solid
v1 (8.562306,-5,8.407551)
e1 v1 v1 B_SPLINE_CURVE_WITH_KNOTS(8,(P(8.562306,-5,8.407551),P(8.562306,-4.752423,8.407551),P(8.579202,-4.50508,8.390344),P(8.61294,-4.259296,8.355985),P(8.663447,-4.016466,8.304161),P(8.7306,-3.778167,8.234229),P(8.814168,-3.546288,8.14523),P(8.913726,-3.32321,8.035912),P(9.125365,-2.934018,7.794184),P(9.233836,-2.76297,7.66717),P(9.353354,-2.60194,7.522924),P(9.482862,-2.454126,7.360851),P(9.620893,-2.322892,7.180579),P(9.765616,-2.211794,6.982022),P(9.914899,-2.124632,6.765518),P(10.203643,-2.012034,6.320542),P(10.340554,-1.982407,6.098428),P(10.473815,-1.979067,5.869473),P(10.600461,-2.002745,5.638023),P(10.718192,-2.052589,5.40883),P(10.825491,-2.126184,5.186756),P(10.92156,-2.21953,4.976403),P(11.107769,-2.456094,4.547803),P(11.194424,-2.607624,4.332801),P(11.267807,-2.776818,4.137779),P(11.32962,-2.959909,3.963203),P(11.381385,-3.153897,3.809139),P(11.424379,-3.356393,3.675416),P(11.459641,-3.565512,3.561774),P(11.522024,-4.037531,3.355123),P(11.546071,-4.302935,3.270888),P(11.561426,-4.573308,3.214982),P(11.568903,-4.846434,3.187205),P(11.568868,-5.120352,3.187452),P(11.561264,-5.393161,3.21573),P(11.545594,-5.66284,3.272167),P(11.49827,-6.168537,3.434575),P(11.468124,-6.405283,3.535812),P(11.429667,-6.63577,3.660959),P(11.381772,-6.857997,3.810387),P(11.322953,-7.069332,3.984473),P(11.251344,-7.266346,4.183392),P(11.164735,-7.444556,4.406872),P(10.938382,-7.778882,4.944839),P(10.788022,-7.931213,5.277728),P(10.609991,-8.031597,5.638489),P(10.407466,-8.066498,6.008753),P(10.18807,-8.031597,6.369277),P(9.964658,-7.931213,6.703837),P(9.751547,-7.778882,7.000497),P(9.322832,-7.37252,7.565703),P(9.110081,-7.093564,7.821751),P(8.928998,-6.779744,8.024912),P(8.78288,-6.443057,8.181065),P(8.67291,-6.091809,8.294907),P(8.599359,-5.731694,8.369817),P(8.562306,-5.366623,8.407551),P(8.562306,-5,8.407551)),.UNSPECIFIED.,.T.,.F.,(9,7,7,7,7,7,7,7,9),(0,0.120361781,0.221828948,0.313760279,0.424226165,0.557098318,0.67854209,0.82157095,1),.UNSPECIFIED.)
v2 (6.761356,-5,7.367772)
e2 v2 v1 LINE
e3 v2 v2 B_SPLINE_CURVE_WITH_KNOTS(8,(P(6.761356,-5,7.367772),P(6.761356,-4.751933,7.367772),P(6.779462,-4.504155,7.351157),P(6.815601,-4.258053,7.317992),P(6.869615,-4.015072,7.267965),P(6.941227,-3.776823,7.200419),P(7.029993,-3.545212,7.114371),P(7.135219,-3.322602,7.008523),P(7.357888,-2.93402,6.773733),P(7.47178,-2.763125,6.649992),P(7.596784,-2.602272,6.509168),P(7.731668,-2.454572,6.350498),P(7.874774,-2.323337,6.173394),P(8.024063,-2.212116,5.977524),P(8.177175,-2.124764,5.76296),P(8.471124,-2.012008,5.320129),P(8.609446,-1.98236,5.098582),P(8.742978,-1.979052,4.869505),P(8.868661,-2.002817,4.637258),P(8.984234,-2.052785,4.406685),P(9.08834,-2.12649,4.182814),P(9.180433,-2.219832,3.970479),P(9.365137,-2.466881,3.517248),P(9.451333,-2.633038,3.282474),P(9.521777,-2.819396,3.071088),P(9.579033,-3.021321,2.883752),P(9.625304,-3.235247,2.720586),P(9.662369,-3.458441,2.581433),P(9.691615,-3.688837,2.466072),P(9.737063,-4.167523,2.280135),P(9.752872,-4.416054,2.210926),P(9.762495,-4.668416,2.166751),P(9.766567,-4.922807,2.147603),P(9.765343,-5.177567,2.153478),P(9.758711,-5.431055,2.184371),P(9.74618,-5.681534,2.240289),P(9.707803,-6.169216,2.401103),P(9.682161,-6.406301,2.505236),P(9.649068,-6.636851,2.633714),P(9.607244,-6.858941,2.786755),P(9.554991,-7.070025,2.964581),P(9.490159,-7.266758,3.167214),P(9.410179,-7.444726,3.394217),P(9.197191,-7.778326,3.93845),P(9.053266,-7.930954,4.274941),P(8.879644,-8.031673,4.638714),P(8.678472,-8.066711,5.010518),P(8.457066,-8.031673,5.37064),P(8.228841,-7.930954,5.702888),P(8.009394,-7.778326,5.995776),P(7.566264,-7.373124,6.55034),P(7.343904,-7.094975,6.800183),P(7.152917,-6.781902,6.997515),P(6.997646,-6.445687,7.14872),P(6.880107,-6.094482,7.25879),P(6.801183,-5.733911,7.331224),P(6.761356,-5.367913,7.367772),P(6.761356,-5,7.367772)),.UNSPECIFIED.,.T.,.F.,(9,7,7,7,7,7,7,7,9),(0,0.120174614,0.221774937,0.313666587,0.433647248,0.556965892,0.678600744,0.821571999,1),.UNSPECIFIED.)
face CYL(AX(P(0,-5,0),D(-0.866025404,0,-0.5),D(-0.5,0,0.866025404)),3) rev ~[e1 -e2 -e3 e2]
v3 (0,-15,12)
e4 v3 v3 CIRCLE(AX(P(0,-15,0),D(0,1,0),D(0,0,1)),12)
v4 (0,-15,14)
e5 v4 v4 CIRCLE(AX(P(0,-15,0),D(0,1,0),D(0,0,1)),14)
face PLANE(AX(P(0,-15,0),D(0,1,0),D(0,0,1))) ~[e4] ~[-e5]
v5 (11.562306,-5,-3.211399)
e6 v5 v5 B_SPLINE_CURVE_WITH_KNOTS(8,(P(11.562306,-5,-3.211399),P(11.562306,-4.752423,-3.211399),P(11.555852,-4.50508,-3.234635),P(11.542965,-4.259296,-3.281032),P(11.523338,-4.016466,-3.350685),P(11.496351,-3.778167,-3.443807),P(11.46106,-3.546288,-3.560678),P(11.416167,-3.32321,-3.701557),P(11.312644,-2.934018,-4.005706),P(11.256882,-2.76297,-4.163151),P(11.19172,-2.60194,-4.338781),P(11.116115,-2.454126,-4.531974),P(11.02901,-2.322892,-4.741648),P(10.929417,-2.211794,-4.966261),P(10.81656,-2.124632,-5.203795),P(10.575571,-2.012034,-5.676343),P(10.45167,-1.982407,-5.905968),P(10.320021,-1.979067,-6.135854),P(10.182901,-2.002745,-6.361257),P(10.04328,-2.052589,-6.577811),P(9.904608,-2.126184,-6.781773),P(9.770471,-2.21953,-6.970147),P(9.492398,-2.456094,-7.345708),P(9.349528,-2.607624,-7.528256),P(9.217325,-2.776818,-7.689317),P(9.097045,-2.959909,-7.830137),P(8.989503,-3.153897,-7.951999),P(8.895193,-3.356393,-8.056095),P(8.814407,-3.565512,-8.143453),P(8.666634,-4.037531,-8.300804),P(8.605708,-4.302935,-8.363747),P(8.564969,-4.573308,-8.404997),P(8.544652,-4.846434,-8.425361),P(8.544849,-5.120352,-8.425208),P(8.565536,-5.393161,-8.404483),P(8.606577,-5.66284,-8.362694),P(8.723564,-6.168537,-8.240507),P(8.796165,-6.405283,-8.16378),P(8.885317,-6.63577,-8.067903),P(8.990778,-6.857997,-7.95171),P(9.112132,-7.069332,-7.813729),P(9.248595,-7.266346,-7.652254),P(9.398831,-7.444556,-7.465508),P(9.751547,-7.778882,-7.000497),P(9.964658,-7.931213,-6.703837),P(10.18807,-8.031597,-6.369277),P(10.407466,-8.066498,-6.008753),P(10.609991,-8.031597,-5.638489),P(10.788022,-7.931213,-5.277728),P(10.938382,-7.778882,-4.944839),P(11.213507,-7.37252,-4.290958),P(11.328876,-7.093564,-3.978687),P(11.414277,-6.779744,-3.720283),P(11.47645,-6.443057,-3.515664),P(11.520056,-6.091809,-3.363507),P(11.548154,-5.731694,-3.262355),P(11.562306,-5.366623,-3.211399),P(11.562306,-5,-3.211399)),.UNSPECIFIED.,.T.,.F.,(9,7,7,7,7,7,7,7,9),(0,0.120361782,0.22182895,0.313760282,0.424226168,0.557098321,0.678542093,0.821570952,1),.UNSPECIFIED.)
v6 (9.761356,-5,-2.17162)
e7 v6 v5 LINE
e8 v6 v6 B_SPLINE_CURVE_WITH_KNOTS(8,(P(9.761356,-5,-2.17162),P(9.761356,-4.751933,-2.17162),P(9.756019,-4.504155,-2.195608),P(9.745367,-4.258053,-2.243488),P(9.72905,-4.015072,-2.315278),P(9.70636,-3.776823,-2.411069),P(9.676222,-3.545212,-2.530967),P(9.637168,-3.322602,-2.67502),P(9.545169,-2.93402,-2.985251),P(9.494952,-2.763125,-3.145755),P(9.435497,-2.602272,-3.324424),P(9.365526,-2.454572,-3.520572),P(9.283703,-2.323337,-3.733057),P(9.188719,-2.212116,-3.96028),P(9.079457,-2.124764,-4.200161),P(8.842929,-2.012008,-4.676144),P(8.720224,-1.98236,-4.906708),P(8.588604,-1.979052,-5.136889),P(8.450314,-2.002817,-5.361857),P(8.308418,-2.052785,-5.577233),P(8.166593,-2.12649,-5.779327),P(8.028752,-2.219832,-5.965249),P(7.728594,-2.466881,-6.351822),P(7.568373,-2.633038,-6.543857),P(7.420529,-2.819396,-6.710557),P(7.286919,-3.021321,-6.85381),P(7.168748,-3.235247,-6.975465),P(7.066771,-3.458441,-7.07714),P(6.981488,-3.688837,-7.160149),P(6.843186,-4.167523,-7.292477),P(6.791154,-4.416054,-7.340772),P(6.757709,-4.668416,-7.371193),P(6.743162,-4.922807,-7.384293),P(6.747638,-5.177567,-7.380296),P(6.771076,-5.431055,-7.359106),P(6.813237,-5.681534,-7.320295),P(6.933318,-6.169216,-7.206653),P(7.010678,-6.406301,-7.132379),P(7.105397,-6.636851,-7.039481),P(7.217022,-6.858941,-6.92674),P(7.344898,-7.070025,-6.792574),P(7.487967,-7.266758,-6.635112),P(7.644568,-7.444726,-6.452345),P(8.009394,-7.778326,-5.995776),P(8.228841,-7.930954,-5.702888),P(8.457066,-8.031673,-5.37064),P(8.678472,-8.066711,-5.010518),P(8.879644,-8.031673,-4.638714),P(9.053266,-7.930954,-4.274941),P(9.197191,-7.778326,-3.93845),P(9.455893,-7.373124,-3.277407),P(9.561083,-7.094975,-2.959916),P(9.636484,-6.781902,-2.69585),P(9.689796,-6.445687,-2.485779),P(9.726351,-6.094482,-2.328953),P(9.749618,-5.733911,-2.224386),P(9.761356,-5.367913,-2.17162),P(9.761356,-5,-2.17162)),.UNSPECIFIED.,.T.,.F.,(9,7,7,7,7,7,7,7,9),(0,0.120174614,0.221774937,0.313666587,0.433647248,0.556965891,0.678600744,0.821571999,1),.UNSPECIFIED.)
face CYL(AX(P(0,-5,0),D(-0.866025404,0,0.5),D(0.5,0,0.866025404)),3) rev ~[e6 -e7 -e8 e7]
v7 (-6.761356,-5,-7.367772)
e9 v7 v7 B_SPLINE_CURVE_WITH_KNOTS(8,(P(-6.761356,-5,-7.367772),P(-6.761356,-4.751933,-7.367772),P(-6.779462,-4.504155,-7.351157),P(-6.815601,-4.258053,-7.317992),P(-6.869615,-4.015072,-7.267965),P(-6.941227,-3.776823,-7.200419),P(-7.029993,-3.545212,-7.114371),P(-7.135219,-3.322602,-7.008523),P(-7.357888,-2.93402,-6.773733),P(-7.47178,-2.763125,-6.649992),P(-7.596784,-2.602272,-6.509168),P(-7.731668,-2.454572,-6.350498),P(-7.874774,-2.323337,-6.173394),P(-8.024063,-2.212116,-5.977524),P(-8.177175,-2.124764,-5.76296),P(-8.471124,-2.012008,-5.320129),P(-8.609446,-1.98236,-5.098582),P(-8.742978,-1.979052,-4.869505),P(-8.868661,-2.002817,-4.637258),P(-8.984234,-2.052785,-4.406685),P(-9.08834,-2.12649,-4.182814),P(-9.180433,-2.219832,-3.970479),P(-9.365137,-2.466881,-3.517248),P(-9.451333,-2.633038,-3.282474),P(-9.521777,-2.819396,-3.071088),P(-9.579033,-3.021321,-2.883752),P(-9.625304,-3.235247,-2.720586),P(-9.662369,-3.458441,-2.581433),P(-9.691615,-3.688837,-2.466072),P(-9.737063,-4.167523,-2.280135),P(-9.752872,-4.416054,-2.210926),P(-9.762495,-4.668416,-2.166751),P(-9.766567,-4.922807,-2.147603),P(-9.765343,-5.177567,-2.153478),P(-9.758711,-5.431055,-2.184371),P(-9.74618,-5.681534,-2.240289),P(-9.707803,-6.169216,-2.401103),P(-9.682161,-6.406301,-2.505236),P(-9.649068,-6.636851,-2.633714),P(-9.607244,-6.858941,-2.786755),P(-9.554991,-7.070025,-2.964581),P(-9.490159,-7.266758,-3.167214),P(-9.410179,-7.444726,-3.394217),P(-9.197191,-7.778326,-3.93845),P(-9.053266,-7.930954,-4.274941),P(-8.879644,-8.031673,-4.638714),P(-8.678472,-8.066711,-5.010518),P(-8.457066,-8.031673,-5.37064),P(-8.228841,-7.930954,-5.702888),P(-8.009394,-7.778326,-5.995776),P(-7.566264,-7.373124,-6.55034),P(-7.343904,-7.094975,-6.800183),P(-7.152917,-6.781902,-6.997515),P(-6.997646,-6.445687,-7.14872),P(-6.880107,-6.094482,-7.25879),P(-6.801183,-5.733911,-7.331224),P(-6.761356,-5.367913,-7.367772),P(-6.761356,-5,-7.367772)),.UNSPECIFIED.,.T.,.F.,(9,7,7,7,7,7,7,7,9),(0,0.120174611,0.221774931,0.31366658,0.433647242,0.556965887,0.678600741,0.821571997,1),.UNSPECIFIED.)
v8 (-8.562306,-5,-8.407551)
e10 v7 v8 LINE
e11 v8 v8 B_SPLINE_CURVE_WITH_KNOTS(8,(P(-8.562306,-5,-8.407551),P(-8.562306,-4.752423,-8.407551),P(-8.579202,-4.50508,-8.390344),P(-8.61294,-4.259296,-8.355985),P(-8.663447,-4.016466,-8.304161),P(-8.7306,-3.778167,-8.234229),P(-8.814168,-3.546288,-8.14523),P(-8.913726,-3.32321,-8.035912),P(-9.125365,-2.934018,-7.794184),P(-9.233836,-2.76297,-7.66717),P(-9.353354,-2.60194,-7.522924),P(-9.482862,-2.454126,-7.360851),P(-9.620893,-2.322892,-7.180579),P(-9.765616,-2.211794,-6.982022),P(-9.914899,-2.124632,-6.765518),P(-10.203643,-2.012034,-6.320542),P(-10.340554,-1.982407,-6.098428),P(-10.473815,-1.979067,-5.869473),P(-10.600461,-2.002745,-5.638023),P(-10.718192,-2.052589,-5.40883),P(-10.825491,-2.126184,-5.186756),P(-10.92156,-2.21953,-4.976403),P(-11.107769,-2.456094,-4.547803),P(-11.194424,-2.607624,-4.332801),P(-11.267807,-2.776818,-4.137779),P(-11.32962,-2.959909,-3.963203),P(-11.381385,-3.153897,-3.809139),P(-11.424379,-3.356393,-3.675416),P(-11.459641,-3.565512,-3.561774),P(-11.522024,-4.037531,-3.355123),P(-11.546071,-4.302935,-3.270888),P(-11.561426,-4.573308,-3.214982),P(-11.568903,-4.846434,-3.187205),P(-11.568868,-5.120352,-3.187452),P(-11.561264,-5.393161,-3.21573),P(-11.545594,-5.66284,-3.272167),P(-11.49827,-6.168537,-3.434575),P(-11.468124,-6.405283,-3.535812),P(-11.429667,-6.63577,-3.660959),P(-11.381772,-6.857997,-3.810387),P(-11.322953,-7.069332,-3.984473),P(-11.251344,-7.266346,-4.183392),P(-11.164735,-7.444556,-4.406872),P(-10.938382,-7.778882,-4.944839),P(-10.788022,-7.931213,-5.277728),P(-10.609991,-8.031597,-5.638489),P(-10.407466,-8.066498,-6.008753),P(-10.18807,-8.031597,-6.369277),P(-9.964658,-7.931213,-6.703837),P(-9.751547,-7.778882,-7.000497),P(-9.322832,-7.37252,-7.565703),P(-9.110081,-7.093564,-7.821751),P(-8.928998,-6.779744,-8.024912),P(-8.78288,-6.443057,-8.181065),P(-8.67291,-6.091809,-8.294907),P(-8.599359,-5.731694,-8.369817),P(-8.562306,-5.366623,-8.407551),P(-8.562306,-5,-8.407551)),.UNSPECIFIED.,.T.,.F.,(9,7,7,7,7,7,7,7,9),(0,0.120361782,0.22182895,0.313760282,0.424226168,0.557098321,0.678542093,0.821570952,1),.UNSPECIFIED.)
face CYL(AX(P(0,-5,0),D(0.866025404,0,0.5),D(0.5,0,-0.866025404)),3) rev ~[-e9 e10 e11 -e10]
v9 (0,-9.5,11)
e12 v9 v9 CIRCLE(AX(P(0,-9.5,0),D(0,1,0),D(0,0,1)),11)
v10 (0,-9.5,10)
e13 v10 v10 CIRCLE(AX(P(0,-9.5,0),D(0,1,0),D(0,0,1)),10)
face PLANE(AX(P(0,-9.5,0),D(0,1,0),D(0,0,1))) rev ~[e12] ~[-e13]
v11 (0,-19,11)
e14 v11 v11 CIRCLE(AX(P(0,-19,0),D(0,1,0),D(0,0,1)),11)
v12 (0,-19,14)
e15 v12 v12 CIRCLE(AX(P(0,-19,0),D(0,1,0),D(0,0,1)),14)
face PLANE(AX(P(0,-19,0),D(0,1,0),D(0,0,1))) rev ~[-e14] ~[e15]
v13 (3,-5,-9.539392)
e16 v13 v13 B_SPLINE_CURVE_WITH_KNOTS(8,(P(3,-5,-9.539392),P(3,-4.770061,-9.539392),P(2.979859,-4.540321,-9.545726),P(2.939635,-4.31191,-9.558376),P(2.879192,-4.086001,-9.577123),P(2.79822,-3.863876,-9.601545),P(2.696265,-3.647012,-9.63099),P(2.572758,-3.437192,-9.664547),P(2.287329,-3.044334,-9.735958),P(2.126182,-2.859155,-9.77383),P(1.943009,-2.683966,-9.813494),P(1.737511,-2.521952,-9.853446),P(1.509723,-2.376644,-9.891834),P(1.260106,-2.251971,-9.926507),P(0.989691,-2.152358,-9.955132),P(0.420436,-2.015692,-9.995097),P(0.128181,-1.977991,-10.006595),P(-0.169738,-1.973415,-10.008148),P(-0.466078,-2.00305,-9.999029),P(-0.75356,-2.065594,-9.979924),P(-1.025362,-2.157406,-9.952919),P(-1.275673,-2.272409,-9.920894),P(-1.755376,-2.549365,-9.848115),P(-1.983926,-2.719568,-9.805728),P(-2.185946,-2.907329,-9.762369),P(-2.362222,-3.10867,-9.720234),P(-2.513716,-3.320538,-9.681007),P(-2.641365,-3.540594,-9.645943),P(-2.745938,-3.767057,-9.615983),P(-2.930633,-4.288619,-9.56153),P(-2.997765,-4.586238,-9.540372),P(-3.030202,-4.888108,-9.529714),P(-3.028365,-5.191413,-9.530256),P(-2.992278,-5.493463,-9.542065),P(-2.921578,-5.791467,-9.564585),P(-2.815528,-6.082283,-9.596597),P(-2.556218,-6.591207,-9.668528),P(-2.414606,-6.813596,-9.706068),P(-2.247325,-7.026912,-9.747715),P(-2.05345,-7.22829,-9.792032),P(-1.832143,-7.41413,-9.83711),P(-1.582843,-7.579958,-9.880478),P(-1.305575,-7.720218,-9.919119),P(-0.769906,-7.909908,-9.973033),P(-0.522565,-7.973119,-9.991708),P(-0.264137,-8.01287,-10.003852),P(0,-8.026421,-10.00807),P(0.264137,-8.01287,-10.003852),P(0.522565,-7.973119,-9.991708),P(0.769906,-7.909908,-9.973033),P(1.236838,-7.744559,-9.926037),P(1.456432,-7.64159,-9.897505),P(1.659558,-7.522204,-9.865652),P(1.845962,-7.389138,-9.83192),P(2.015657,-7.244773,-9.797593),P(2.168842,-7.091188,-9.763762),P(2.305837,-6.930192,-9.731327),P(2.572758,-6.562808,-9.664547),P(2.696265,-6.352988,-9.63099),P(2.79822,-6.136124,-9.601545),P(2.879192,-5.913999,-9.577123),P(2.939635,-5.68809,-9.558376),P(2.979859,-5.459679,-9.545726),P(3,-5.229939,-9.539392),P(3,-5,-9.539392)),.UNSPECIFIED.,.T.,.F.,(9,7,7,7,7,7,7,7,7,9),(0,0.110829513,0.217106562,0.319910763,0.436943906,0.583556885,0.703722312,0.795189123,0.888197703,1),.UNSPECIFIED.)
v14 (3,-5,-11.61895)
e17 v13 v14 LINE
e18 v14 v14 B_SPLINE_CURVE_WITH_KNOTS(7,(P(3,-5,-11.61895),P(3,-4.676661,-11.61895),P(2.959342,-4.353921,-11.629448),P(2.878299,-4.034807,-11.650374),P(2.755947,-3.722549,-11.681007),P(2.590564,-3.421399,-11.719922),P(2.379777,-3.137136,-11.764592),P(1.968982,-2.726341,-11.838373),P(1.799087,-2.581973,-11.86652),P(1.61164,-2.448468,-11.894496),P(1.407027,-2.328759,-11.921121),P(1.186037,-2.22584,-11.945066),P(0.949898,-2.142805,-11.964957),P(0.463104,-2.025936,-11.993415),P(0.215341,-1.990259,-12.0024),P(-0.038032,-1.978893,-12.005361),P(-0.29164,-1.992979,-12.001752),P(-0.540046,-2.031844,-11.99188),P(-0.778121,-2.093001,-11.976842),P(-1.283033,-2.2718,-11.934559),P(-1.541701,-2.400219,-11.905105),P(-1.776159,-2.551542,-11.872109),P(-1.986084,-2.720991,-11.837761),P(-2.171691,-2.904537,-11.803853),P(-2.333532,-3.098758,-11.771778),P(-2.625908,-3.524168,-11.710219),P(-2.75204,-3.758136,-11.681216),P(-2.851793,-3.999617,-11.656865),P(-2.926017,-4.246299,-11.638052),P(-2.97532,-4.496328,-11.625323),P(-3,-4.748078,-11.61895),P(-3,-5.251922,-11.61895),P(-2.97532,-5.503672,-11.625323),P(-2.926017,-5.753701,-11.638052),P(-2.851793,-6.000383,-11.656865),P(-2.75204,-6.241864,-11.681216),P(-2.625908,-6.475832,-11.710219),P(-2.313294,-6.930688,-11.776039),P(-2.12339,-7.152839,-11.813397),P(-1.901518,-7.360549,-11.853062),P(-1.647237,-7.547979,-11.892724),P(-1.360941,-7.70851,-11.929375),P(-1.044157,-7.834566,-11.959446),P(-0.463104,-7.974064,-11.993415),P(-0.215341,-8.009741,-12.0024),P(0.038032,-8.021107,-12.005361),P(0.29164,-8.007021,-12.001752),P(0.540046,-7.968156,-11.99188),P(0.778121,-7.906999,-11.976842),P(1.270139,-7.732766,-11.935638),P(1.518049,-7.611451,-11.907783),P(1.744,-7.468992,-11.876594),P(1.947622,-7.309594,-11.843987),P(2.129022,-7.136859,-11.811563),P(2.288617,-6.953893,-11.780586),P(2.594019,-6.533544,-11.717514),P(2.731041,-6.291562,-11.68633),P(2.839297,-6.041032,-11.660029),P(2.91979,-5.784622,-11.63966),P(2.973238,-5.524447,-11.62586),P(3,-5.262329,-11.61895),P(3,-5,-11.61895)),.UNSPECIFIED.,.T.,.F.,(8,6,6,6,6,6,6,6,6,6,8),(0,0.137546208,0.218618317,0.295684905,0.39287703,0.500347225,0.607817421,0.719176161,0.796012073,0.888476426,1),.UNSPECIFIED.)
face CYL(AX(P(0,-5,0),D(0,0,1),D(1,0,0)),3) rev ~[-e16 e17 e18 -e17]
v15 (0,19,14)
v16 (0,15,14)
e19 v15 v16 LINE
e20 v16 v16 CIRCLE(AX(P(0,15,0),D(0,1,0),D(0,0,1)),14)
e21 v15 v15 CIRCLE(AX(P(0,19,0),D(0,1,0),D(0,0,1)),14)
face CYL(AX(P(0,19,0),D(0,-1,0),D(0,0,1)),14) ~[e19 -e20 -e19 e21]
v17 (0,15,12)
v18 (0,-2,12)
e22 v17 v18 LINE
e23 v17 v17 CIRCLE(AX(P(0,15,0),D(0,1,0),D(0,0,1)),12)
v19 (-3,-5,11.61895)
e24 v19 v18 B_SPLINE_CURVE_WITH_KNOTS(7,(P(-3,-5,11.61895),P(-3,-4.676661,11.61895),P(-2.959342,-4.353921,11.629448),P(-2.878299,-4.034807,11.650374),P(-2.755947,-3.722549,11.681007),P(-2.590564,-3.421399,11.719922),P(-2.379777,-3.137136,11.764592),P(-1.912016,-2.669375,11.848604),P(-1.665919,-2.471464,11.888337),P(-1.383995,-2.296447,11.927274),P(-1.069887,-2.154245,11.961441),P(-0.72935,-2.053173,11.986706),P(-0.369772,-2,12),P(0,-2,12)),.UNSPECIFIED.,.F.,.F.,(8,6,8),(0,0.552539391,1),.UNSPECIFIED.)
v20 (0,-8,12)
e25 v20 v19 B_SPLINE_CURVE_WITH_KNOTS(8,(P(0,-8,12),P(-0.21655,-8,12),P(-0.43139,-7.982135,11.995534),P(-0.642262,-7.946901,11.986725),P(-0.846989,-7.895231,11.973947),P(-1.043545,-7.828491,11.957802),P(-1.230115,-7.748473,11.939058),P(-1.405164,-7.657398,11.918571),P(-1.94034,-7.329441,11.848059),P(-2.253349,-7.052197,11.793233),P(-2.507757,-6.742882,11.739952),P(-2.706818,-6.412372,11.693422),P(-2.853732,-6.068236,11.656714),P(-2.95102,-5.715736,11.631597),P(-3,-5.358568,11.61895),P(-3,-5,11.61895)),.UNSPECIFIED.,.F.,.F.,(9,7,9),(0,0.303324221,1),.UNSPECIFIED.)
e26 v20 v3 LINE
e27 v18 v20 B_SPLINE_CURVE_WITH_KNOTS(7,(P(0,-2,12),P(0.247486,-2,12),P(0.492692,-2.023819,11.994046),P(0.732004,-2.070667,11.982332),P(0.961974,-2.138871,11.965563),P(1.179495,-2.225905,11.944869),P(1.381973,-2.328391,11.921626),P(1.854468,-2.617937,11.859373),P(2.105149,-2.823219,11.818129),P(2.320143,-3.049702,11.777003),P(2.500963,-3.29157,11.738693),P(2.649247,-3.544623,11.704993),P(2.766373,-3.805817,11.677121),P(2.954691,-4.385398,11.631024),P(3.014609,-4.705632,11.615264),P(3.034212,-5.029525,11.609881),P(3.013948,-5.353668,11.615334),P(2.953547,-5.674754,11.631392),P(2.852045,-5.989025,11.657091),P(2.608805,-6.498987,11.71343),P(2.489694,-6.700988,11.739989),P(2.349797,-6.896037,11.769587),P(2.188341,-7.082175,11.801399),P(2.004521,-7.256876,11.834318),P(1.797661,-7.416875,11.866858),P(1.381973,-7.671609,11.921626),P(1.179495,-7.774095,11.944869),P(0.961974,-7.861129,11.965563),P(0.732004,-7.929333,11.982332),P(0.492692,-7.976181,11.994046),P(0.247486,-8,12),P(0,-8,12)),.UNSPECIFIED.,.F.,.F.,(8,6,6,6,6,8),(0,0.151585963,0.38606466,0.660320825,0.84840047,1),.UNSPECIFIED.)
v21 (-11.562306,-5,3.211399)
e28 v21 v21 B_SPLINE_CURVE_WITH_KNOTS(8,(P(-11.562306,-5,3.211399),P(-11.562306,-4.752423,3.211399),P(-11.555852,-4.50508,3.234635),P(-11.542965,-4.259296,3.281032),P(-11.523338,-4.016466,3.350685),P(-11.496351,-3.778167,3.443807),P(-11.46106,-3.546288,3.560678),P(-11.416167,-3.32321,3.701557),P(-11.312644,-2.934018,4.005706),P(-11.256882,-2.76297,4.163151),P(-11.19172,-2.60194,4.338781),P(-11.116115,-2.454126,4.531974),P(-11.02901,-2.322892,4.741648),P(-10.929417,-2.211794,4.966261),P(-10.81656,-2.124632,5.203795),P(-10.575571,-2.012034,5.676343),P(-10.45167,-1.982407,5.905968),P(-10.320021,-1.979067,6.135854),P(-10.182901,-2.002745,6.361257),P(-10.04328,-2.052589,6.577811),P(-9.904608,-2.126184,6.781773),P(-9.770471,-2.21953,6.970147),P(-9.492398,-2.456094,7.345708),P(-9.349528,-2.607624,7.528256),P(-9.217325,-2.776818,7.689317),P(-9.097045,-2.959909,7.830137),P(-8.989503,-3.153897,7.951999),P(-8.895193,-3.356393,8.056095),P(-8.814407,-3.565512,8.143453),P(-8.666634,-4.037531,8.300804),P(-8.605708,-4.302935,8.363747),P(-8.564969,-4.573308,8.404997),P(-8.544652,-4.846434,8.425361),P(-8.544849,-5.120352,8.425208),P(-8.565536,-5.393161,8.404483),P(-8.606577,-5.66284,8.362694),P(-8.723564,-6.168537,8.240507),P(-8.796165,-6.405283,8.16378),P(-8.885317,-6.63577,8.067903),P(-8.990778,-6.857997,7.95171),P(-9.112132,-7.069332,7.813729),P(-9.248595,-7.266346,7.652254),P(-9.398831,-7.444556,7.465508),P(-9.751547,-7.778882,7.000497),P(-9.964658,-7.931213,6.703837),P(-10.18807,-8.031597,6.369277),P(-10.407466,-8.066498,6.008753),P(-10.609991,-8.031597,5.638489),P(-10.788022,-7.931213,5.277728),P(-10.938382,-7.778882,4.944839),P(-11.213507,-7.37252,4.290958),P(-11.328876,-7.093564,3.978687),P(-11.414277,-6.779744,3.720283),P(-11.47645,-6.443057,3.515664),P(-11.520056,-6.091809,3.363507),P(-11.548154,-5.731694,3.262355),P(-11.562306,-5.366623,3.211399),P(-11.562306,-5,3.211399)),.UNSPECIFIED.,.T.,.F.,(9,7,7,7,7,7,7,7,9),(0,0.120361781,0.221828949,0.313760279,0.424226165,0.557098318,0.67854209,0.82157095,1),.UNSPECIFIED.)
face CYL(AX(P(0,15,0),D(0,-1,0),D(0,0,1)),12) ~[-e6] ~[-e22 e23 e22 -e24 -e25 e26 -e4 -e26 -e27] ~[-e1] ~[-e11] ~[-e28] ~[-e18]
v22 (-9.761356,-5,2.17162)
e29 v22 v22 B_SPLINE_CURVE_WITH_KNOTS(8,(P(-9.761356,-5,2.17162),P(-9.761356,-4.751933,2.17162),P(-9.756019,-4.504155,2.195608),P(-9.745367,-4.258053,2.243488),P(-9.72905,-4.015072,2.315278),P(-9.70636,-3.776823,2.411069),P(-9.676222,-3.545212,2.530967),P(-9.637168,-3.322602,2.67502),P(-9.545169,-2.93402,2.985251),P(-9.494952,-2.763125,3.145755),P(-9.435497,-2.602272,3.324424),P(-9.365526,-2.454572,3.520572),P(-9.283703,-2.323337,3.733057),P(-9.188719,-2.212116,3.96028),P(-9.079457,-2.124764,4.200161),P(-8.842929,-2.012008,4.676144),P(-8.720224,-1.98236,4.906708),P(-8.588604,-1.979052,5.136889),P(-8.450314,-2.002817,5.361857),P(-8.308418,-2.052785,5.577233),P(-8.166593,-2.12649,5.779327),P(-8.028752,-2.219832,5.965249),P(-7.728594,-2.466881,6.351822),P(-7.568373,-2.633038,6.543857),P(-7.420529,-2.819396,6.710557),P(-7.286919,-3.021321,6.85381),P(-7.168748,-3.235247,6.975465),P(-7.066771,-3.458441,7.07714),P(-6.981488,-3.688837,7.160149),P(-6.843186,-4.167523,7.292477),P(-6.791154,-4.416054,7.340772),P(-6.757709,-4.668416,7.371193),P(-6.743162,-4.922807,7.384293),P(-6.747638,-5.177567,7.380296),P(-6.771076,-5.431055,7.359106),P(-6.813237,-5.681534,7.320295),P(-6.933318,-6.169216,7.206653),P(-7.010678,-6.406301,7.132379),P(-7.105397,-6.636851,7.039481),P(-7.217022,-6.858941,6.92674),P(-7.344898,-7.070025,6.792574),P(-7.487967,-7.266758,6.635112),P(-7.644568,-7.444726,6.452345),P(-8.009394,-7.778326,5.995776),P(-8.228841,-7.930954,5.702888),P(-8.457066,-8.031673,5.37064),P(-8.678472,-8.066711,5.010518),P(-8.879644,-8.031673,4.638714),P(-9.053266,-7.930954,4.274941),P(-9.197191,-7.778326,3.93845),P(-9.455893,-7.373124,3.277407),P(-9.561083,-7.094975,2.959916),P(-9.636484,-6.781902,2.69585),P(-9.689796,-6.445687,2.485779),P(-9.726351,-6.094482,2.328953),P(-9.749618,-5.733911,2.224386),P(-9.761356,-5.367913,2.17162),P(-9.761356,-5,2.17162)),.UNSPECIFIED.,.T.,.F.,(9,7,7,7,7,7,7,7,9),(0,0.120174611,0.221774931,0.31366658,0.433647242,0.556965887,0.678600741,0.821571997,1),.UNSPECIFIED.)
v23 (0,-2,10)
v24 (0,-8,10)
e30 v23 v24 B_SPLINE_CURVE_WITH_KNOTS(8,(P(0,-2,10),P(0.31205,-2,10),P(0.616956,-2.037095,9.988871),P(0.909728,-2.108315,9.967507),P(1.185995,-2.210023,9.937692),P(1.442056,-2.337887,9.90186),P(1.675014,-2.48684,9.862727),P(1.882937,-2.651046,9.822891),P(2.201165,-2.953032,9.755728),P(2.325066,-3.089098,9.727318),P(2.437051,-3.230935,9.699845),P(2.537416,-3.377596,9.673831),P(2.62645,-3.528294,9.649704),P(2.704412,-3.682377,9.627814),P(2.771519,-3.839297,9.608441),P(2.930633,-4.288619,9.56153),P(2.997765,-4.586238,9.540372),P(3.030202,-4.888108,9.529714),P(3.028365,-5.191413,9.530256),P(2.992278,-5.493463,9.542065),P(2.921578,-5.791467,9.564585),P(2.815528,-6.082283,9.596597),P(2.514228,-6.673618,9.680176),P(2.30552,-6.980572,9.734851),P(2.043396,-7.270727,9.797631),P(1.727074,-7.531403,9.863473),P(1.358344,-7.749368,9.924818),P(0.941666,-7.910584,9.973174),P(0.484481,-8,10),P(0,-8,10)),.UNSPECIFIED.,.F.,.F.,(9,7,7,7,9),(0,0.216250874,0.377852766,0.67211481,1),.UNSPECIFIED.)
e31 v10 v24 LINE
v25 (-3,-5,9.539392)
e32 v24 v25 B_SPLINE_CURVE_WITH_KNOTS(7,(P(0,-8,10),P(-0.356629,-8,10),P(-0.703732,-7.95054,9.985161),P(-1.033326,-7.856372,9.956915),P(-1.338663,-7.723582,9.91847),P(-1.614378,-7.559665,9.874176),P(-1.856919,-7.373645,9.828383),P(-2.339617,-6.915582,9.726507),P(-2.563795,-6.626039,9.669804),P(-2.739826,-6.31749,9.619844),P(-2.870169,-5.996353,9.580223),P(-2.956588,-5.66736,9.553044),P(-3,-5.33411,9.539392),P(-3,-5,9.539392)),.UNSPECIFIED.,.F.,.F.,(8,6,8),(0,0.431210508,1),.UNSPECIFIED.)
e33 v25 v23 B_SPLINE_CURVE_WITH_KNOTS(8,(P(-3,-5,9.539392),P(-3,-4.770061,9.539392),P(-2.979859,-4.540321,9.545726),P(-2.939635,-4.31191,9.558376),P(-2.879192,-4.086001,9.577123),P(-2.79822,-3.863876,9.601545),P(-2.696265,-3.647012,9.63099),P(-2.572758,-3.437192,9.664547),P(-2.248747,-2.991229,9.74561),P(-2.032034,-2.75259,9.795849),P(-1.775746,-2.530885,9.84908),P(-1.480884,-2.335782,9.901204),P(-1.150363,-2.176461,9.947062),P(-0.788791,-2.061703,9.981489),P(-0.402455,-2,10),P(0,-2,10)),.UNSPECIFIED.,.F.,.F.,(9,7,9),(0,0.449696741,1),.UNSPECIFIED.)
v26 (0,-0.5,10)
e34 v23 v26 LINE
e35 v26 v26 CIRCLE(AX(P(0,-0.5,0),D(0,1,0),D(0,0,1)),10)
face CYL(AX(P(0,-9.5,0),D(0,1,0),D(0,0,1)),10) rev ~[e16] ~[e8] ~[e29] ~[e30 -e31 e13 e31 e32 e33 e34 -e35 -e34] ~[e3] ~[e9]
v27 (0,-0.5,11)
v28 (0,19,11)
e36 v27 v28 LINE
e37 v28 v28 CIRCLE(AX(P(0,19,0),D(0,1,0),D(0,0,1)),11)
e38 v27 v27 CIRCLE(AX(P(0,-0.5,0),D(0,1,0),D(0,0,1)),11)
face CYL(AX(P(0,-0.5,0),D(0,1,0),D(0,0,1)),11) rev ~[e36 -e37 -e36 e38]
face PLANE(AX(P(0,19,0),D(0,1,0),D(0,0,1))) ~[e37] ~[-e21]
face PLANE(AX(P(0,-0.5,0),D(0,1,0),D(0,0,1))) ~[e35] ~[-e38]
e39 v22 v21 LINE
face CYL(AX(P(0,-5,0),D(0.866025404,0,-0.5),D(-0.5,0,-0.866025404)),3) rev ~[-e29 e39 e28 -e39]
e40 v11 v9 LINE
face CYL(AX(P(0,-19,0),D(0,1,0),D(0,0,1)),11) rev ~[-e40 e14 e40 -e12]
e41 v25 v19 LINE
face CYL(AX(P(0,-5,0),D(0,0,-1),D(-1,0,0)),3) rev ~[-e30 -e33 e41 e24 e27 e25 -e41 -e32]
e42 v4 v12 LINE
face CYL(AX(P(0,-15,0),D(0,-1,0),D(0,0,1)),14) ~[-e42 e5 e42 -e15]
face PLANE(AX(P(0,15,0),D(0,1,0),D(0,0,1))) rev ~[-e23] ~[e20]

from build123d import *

# Parameters (mm, degrees)
F2_R     = 3
F3_DEPTH = 25.4
F4_COUNT = 6


with BuildPart() as f1:
    # F0 (on Right) → F1 (revolve)
    with BuildSketch(Plane.YZ):
        Polygon((-15, 14), (-19, 14), (-19, 11), (-9.5, 11), (-9.5, 10), (-0.5, 10), (-0.5, 11), (19, 11), (19, 14), (15, 14), (15, 12), (-15, 12), align=None)
    revolve(axis=Axis((0, 0, 0), (0, 1, 0)))

    # F2 (on Top) → F3 (cut)
    with BuildSketch(Plane.XY):
        with Locations((0, -5)):
            Circle(F2_R)
    f3 = extrude(amount=-F3_DEPTH, mode=Mode.SUBTRACT)

    # F4: F3 ×6 about axis
    f4_axis = Axis((0, -19, 0), (0, 1, 0))
    for i in range(1, F4_COUNT):
        add(f3.rotate(f4_axis, i * 360 / F4_COUNT), mode=Mode.SUBTRACT)


solid = f1.part
